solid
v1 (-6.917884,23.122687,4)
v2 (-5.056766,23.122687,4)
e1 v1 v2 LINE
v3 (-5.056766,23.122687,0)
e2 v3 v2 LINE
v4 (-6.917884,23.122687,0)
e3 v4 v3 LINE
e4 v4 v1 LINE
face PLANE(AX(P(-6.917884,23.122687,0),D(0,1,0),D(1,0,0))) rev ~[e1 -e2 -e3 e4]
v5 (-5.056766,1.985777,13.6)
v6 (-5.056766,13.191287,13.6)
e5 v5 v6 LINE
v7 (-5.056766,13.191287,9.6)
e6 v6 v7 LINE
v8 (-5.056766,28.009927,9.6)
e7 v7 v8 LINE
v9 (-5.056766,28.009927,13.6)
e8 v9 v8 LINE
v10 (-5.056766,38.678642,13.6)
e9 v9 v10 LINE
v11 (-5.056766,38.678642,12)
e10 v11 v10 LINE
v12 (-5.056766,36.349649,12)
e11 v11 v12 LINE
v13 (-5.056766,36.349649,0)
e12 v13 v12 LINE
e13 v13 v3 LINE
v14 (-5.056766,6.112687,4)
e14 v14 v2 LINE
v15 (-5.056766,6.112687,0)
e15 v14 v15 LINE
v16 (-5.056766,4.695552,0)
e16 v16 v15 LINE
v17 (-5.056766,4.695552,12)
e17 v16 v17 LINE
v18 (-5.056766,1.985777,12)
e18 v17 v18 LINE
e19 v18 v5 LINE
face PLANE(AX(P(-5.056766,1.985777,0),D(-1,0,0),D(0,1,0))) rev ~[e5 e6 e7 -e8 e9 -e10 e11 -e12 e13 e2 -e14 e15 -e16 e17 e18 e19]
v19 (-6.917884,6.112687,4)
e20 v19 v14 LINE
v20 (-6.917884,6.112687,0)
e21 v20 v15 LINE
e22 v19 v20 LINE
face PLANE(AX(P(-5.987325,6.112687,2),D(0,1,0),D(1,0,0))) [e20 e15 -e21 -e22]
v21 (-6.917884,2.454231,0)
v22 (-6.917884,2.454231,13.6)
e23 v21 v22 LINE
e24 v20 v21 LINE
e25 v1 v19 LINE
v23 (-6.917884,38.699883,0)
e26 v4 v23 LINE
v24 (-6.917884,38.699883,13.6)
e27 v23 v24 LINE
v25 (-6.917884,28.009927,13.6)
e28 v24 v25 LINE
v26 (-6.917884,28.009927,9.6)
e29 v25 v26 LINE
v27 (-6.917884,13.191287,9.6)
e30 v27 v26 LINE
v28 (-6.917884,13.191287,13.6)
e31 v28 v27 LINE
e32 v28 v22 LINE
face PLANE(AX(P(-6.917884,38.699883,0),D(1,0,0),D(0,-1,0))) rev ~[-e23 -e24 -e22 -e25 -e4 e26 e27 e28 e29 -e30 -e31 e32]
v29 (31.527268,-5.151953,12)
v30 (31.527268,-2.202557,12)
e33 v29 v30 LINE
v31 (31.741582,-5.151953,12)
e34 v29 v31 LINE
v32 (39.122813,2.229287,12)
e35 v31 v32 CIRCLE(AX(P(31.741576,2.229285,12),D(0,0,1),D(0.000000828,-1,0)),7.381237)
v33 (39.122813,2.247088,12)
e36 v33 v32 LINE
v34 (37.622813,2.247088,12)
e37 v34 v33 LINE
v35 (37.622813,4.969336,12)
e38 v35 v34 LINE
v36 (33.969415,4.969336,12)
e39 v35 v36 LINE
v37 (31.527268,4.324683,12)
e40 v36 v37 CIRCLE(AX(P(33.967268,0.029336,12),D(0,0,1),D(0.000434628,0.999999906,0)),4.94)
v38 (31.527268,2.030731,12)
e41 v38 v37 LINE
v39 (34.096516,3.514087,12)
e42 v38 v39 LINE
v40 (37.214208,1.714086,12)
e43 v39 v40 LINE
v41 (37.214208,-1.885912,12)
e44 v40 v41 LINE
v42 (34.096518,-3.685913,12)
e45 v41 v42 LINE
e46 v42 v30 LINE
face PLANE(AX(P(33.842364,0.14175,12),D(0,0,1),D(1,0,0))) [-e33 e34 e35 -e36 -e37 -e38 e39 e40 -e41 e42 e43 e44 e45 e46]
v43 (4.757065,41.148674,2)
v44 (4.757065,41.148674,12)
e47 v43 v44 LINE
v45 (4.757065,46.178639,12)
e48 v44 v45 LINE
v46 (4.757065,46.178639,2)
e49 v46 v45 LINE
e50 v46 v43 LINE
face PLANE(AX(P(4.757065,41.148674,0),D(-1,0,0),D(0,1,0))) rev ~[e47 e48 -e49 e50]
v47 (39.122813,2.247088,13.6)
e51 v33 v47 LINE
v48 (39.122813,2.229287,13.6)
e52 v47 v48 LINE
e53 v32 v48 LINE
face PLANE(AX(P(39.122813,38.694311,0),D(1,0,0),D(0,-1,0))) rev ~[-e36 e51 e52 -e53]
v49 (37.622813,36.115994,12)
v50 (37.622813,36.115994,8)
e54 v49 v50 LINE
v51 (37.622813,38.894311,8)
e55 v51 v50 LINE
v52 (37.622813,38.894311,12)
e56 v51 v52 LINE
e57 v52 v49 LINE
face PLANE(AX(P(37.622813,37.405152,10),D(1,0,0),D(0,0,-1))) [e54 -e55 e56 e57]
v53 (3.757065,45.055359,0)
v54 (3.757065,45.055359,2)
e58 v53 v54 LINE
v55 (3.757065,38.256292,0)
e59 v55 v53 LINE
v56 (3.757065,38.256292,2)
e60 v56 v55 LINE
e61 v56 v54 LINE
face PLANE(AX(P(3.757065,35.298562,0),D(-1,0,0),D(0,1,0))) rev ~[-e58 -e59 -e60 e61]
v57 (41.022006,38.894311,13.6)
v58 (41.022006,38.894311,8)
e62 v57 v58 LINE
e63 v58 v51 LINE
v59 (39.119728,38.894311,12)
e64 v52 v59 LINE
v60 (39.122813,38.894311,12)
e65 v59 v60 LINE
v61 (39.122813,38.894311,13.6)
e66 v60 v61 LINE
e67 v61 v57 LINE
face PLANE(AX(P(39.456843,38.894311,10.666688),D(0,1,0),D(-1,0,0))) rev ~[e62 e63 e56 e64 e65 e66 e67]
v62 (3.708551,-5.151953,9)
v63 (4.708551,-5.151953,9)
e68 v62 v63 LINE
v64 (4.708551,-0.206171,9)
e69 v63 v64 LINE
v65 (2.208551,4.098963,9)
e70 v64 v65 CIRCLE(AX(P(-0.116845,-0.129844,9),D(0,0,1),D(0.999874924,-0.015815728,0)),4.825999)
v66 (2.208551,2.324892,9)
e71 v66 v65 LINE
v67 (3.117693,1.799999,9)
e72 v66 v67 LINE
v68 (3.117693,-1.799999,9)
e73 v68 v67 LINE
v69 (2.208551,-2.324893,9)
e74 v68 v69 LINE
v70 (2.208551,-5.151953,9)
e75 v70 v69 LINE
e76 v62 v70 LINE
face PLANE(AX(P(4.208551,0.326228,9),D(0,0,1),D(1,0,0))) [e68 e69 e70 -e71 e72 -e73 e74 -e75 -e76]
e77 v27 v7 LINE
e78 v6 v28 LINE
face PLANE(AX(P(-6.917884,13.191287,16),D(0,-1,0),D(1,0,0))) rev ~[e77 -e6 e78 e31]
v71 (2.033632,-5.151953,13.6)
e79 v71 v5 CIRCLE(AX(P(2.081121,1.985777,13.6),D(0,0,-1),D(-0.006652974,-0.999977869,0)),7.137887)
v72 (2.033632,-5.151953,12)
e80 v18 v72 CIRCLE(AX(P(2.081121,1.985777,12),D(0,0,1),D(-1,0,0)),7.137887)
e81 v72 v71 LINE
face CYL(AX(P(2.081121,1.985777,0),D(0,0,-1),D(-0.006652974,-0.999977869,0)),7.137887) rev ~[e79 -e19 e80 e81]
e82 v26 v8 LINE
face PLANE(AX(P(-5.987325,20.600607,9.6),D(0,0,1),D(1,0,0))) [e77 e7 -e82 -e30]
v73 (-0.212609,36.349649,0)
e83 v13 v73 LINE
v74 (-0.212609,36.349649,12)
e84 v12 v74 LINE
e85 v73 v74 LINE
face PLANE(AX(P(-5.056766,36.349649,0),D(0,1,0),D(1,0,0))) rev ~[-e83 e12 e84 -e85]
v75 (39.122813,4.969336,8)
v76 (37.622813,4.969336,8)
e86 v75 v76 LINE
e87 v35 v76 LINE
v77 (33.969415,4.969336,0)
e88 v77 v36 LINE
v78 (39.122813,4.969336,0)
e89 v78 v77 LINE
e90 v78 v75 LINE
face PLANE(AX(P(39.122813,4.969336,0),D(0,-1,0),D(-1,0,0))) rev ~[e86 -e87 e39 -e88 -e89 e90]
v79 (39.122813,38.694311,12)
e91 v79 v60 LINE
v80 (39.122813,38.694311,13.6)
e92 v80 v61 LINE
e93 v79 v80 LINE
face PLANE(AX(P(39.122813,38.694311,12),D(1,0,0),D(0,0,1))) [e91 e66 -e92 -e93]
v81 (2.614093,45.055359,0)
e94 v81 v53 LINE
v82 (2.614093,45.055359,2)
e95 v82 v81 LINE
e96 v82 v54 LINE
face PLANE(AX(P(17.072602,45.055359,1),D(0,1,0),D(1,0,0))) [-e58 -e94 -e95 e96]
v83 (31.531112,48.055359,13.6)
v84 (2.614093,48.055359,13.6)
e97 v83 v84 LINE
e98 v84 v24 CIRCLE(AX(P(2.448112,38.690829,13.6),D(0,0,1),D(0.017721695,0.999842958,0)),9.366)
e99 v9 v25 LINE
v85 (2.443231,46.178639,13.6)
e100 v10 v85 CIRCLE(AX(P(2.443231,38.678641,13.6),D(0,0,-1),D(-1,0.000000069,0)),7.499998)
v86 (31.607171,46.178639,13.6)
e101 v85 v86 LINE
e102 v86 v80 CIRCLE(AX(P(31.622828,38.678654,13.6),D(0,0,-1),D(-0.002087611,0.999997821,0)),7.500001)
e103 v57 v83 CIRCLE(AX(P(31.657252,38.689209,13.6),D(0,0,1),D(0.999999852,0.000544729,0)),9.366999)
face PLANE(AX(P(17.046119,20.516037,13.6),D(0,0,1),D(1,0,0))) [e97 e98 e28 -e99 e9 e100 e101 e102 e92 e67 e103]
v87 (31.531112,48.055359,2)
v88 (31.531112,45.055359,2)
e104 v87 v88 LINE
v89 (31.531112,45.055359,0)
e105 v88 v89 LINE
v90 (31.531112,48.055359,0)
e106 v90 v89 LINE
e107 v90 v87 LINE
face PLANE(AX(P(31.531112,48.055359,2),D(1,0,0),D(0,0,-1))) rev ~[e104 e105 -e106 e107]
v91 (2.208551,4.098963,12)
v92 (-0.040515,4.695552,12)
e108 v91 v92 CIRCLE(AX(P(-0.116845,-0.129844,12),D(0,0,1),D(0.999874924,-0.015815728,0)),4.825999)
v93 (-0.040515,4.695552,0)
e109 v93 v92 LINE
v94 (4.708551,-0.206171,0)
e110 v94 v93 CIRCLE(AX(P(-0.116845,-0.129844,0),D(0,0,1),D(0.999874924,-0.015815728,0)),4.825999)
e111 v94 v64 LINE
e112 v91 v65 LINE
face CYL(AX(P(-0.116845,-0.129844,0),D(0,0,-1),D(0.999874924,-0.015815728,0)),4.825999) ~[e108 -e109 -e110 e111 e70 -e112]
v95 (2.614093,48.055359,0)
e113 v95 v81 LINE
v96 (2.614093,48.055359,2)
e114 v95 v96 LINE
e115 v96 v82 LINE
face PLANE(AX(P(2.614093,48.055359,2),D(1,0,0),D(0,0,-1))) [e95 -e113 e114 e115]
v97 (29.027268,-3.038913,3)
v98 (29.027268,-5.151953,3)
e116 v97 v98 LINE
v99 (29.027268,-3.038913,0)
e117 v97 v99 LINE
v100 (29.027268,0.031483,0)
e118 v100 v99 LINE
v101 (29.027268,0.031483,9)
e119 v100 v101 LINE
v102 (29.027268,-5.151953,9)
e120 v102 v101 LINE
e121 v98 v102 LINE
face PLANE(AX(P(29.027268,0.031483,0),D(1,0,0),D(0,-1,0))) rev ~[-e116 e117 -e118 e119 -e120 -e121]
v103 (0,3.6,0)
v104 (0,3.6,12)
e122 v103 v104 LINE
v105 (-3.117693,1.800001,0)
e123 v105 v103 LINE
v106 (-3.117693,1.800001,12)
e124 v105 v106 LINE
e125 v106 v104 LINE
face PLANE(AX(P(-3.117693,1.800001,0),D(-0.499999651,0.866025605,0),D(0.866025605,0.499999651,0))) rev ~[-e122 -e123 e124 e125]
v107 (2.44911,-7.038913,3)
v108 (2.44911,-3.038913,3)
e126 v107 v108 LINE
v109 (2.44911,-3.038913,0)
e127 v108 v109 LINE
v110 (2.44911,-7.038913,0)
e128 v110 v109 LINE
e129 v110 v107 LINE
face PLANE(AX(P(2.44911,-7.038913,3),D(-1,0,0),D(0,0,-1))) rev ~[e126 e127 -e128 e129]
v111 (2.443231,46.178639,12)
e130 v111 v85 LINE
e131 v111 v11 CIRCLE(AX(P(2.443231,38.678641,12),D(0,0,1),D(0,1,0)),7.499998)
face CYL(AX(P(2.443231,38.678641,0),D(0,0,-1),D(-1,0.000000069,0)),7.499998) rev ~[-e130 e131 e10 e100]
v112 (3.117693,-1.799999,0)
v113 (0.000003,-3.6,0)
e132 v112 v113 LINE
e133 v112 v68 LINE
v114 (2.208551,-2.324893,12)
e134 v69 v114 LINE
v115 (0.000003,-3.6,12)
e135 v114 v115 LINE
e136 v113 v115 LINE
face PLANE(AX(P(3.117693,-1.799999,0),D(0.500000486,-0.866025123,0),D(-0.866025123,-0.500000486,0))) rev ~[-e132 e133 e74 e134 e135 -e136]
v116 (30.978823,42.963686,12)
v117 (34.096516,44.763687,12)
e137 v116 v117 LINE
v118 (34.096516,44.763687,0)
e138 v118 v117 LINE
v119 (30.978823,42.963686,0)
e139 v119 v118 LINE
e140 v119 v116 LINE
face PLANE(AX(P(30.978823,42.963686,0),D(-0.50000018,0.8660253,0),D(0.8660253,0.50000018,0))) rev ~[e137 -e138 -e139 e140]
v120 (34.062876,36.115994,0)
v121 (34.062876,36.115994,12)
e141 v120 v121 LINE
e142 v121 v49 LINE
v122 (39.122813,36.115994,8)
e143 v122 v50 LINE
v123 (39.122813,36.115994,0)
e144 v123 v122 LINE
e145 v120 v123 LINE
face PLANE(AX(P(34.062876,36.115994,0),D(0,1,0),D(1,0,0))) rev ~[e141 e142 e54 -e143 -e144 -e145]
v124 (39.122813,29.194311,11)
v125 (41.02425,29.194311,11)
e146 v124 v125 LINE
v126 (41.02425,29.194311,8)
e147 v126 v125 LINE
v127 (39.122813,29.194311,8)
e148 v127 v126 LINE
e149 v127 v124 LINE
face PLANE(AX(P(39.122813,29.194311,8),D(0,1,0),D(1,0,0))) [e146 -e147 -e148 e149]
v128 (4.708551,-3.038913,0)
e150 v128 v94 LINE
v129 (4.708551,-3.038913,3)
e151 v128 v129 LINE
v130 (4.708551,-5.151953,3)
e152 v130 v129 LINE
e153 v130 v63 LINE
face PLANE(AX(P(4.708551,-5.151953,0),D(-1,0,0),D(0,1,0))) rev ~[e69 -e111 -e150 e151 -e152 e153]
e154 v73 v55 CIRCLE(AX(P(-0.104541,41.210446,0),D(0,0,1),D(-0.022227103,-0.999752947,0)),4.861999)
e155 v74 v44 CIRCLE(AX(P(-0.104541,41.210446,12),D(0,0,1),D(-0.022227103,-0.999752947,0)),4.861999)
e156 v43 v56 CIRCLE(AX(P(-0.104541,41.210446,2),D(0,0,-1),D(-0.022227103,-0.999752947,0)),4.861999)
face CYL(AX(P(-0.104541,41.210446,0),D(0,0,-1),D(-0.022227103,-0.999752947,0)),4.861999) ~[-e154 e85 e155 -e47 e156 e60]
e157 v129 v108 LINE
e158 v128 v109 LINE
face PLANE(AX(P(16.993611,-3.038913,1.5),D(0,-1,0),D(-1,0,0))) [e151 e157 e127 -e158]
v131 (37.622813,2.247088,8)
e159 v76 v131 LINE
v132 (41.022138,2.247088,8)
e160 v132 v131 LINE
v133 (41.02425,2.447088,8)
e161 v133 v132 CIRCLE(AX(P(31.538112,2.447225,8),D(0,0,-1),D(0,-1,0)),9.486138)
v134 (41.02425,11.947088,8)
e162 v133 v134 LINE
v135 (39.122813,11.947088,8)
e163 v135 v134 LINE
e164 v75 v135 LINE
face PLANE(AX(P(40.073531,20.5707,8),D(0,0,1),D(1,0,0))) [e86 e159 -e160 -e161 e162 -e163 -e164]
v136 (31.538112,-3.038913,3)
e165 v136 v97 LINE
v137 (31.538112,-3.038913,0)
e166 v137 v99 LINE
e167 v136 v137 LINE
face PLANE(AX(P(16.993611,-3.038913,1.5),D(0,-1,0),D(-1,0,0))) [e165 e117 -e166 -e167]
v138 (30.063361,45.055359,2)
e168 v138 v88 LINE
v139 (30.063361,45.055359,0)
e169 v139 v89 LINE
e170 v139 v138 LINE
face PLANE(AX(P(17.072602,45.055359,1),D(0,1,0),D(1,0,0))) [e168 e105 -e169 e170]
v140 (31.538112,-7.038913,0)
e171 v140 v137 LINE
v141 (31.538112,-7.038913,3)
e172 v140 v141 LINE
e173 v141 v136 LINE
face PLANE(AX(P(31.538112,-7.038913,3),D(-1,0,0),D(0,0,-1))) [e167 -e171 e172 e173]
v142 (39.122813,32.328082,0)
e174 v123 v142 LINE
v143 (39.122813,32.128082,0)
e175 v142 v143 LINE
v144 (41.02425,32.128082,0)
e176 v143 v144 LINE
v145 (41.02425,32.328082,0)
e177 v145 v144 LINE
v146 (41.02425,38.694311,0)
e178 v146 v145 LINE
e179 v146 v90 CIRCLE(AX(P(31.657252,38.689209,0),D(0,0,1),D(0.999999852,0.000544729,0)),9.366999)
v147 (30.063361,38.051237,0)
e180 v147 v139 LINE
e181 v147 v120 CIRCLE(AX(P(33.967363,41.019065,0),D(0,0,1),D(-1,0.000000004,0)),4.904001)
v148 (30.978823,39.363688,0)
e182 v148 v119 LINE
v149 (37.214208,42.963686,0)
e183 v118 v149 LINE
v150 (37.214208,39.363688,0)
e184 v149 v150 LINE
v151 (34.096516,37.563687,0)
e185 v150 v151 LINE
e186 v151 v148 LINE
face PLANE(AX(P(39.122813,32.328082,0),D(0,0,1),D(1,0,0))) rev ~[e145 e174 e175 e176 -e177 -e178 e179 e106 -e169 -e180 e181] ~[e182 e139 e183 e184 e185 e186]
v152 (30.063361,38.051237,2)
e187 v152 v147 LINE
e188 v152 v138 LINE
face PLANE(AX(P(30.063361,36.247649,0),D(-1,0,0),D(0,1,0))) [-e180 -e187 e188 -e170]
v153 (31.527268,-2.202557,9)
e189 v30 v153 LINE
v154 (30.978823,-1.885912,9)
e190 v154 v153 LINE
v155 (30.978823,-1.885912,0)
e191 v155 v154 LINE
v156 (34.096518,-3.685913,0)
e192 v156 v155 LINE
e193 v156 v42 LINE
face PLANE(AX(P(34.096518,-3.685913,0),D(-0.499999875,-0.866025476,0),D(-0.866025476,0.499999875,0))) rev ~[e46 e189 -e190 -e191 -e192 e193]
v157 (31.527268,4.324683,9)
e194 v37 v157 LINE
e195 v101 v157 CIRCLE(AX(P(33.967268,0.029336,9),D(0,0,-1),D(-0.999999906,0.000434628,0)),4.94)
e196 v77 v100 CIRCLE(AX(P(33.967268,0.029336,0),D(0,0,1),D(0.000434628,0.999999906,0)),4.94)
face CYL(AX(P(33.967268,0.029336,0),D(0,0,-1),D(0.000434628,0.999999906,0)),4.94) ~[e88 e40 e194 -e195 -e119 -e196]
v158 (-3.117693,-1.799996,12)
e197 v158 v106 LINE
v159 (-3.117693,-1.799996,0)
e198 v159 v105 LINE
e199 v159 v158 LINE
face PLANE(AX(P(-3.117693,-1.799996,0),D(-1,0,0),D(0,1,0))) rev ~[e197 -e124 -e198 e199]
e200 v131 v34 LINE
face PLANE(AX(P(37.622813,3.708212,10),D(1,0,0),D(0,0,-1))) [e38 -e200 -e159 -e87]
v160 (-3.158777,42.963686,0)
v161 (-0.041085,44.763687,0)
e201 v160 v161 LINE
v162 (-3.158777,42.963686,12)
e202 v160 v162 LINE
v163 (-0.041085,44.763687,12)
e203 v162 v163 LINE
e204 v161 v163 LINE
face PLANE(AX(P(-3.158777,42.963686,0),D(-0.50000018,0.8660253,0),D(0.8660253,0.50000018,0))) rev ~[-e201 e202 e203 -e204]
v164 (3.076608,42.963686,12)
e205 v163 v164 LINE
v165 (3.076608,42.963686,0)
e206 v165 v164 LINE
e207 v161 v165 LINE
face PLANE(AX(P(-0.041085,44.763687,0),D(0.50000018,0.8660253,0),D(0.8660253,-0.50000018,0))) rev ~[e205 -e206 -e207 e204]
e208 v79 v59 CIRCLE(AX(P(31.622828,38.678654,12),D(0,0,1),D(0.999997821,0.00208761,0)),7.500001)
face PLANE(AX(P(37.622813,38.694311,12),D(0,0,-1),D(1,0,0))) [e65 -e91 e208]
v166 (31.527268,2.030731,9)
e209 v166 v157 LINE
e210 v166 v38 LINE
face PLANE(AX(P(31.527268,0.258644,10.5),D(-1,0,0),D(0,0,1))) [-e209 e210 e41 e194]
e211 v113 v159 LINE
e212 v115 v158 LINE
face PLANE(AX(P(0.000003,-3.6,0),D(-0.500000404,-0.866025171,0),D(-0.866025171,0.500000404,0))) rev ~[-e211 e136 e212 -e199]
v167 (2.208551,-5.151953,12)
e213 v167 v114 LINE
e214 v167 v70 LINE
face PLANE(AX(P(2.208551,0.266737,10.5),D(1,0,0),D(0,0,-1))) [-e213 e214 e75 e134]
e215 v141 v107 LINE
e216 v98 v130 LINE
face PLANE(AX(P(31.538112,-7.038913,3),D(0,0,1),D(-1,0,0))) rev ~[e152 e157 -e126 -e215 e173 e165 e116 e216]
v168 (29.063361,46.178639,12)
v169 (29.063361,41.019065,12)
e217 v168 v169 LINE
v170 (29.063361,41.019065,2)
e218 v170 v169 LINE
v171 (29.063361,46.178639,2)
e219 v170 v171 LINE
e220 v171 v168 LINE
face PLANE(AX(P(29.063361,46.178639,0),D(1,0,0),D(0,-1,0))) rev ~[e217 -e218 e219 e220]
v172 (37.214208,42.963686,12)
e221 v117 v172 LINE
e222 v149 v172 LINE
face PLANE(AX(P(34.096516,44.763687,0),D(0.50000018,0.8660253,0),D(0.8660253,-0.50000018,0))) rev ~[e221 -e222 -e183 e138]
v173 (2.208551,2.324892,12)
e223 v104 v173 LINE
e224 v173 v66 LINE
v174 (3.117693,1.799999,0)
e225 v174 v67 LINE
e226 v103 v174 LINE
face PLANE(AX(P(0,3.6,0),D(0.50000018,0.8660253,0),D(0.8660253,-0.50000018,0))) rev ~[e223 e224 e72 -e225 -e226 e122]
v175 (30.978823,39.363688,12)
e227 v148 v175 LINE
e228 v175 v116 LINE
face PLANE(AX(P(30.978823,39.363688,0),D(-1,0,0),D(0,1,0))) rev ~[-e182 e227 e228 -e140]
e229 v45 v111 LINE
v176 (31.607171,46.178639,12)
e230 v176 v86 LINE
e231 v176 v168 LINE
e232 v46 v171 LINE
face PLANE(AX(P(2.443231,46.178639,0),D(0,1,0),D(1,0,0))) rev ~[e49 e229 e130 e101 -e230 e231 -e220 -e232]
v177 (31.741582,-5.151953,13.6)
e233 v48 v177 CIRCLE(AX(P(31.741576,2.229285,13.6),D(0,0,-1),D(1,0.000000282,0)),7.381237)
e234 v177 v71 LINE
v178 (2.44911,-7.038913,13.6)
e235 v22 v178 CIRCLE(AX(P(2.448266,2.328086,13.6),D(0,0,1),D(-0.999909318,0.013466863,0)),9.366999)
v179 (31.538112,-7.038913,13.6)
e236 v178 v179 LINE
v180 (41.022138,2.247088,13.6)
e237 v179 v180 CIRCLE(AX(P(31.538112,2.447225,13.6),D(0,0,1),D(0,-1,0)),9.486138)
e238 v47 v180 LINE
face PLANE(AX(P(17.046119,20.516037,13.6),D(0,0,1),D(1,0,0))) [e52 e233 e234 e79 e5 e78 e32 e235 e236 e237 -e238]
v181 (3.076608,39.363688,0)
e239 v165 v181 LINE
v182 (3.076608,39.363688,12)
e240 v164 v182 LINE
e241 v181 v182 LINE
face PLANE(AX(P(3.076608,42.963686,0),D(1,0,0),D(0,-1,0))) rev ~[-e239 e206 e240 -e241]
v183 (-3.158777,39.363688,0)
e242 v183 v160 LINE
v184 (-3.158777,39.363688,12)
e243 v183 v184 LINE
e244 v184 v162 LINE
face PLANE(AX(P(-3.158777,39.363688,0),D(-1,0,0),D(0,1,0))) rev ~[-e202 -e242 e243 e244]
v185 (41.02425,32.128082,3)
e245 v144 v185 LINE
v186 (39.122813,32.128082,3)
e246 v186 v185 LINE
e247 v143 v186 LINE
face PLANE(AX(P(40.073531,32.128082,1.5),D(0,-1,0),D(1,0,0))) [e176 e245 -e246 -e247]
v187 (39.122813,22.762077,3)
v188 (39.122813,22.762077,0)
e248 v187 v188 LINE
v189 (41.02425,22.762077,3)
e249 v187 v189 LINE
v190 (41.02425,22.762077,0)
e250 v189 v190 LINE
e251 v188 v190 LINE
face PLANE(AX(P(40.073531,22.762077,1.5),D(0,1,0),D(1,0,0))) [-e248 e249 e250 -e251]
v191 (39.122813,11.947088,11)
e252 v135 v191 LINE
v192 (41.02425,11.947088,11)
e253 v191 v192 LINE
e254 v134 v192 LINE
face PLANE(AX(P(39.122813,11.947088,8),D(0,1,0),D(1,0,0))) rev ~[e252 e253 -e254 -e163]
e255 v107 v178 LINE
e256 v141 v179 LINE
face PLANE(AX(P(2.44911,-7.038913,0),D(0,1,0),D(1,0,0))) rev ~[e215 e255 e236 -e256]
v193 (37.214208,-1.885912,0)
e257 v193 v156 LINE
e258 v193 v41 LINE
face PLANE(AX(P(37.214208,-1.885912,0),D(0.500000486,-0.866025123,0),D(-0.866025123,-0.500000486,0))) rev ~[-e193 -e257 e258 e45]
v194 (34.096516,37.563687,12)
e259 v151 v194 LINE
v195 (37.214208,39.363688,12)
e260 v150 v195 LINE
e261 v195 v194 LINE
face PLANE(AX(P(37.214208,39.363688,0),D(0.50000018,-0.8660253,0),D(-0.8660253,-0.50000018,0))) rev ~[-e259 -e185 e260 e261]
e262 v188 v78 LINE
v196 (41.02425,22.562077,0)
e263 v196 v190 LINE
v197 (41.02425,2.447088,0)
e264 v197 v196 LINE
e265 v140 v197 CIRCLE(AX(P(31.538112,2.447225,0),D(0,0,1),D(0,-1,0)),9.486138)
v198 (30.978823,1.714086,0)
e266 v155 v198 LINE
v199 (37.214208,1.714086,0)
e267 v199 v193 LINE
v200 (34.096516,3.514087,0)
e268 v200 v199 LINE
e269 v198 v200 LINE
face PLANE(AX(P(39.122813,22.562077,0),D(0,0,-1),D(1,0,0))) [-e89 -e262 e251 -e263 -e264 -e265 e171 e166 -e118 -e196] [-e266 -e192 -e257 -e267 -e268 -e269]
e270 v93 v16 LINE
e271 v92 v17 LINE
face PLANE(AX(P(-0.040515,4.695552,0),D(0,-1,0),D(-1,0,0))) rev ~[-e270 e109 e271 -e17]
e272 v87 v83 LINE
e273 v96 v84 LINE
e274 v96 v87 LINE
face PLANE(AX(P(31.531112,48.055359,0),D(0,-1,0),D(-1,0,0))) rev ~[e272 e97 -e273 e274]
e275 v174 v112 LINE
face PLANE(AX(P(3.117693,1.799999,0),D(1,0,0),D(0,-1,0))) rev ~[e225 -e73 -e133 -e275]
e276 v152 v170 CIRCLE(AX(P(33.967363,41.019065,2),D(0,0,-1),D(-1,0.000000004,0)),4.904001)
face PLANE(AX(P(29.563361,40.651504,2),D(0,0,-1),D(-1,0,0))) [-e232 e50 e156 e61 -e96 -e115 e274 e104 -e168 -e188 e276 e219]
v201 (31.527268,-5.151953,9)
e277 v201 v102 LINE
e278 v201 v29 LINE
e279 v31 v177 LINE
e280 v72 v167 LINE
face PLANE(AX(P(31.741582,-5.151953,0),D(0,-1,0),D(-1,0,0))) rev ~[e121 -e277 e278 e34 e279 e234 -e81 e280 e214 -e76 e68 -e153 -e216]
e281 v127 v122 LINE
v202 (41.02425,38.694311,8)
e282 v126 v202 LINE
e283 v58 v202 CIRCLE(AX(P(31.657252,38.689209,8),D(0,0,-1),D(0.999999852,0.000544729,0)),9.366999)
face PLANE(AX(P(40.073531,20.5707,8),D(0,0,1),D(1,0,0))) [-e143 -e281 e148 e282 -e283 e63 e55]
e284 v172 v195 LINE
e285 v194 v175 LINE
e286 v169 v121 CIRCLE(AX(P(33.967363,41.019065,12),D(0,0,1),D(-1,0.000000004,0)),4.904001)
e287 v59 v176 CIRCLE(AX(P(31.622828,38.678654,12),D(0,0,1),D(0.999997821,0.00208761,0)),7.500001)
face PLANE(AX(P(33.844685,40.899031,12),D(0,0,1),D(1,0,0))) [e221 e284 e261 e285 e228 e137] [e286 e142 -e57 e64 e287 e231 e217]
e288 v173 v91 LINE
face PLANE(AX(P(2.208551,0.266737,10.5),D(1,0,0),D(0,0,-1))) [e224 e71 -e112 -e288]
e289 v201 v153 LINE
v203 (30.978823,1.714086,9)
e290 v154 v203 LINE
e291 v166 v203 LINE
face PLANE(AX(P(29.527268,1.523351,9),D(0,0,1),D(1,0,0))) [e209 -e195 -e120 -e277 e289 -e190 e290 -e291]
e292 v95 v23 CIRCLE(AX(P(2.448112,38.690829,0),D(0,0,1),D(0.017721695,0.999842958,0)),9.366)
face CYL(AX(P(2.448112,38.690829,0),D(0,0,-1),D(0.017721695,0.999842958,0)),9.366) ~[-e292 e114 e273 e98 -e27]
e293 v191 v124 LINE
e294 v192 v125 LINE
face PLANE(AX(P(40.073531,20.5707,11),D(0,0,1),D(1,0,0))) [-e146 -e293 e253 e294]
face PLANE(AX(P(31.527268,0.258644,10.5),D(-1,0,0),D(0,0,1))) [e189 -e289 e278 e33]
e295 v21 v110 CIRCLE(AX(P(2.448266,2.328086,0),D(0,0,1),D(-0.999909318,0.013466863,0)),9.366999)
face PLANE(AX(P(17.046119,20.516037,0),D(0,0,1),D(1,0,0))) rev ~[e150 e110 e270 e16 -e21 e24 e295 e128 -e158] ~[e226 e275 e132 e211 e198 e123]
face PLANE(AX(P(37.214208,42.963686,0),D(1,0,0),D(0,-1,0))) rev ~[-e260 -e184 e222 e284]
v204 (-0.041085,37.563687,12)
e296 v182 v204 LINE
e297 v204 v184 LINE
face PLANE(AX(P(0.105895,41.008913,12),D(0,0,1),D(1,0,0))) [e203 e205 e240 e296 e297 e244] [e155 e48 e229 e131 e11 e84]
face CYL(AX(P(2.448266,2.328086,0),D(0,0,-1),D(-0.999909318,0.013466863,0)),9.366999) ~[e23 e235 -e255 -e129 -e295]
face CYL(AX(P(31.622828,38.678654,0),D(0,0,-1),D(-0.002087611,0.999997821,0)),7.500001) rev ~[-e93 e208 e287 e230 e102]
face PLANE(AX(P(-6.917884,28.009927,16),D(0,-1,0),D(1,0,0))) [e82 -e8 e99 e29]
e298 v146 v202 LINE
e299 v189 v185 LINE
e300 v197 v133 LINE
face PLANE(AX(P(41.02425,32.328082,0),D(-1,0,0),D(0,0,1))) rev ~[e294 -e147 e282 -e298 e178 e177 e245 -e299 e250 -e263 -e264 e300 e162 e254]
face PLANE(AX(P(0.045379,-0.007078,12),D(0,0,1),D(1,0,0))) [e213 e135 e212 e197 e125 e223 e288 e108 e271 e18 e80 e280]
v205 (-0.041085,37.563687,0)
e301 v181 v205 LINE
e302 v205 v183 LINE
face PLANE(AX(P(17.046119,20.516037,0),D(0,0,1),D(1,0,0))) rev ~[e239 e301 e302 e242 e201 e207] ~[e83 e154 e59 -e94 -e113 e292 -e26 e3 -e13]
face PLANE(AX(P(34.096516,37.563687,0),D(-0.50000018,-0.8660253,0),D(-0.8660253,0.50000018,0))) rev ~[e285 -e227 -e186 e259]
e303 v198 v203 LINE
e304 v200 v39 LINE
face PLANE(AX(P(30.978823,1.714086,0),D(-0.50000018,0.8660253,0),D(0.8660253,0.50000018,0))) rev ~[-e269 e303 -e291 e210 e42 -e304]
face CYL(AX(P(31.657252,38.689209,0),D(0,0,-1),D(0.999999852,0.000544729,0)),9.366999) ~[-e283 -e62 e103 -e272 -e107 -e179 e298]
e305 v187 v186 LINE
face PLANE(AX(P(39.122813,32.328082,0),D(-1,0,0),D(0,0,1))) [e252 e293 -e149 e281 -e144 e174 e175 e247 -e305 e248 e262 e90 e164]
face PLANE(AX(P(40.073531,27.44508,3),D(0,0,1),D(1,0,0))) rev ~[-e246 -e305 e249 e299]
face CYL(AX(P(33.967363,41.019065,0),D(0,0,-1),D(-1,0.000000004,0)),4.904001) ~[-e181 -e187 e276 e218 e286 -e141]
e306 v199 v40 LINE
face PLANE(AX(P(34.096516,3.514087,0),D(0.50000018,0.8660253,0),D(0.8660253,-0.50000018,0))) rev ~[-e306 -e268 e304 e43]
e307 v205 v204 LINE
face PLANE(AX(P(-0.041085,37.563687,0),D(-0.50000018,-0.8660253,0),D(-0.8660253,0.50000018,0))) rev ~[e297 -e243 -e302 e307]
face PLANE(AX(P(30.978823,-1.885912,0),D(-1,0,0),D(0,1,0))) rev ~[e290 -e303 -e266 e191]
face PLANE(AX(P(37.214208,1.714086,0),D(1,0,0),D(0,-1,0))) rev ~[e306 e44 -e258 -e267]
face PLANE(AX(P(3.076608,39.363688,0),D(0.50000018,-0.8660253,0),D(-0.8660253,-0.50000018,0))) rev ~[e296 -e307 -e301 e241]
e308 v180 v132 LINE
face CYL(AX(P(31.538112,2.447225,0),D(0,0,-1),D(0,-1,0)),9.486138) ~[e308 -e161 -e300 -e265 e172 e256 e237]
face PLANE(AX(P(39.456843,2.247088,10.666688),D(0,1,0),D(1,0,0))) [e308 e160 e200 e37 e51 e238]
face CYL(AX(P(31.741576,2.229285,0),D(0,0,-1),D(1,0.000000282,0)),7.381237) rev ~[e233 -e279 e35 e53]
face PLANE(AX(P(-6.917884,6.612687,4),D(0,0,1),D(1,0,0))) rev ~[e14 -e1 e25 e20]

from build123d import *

# Parameters (mm, degrees)
EXTRUDE_1_DEPTH      = 12
EXTRUDE_2_DEPTH      = 12
EXTRUDE_2_2_DEPTH    = 12
EXTRUDE_2_3_DEPTH    = 12
EXTRUDE_3_DEPTH      = 13.6
MODEL_6_W            = 1.861117915
MODEL_6_H            = 16.51
CUT_EXTRUDE_1_DEPTH  = 4
MODEL_7_W            = 1.861117915
MODEL_7_H            = 14.818640087
EXTRUDE_5_DEPTH      = 16
MODEL_8_W            = 1.861117915
MODEL_8_H            = 9.9314
CUT_EXTRUDE_2_DEPTH  = 4
SKETCH_3_W           = 1.861117915
SKETCH_3_H           = 14.818640087
CUT_EXTRUDE_3_DEPTH  = 6.4
MODEL_11_W           = 1.901436907
MODEL_11_H           = 36.247223099
EXTRUDE_6_DEPTH      = 16
MODEL_12_W           = 1.901436907
MODEL_12_H           = 9.766004581
CUT_EXTRUDE_5_DEPTH  = 3
SKETCH_4_W           = 1.901436907
SKETCH_4_H           = 36.247223099
CUT_EXTRUDE_6_DEPTH  = 8
SKETCH_5_W           = 4
SKETCH_5_H           = 2.578317469
CUT_EXTRUDE_8_DEPTH  = 1.5
SKETCH_6_W           = 4
SKETCH_6_H           = 2.52224752
CUT_EXTRUDE_9_DEPTH  = 1.5
SKETCH_7_W           = 1.901436907
SKETCH_7_H           = 17.247223099
EXTRUDE_7_DEPTH      = 3
SKETCH_11_W          = 29.089002021
SKETCH_11_H          = 3
CUT_EXTRUDE_15_DEPTH = 4
SKETCH_12_W          = 28.91701862
SKETCH_12_H          = 2
CUT_EXTRUDE_16_DEPTH = 3
SKETCH_13_W          = 1
SKETCH_13_H          = 10.956361678
CUT_EXTRUDE_17_DEPTH = 3
SKETCH_14_W          = 1
SKETCH_14_H          = 13.350607955
CUT_EXTRUDE_19_DEPTH = 3
SKETCH_16_W          = 1
SKETCH_16_H          = 8.807709457
CUT_EXTRUDE_23_DEPTH = 2
SKETCH_17_W          = 1
SKETCH_17_H          = 9.756796511
CUT_EXTRUDE_24_DEPTH = 2
SKETCH_18_W          = 3
SKETCH_18_H          = 0.152653388
CUT_EXTRUDE_25_DEPTH = 1
SKETCH_20_W          = 3
SKETCH_20_H          = 10.821193865
CUT_EXTRUDE_27_DEPTH = 1
SKETCH_21_W          = 3
SKETCH_21_H          = 10.837379137
CUT_EXTRUDE_28_DEPTH = 1
SKETCH_21_2_W        = 3
SKETCH_21_2_H        = 10.837379137
CUT_EXTRUDE_29_DEPTH = 1.5
SKETCH_20_2_W        = 3
SKETCH_20_2_H        = 10.821193865
CUT_EXTRUDE_30_DEPTH = 1.5
SKETCH_22_W          = 1.861117915
SKETCH_22_H          = 4
CUT_EXTRUDE_31_DEPTH = 0.5
CUT_EXTRUDE_32_DEPTH = 0.2
CUT_EXTRUDE_33_DEPTH = 0.2
SKETCH_25_W          = 1.901436907
SKETCH_25_H          = 3
EXTRUDE_8_DEPTH      = 0.2
SKETCH_26_W          = 1.901436907
SKETCH_26_H          = 3
EXTRUDE_9_DEPTH      = 0.2


with BuildPart() as part:
    # Model → 凸台-拉伸1 (new body)
    with BuildSketch(Plane.XY):
        with BuildLine():
            Line((-5.056766423, 38.678641935), (-5.056766423, 36.349648899))
            Line((-5.056766423, 36.349648899), (-0.212608944, 36.349648899))
            ThreePointArc((-0.212608944, 36.349648899), (3.272838734, 37.712970368), (4.757065456, 41.148674369))
            Line((4.757065456, 41.148674369), (4.757065456, 46.178639116))
            Line((4.757065456, 46.178639116), (3.757607617, 46.178639116))
            Line((3.757607617, 46.178639116), (2.443231277, 46.178639116))
            ThreePointArc((2.443231277, 46.178639116), (-2.860067772, 43.981940832), (-5.056766423, 38.678641935))
        make_face()
        Polygon((-3.15877702, 42.96368598), (-0.0410845, 44.76368746), (3.07660802, 42.96368598), (3.07660802, 39.3636881), (-0.0410845, 37.56368662), (-3.15877702, 39.3636881), align=None, mode=Mode.SUBTRACT)
    extrude(amount=EXTRUDE_1_DEPTH)



with BuildPart() as body_2:
    # Model<3> → 凸台-拉伸2 (new body)
    with BuildSketch(Plane.XY):
        with BuildLine():
            Line((29.027268179, 0.031482865), (29.027268179, -5.15195259))
            Line((29.027268179, -5.15195259), (31.741581646, -5.15195259))
            ThreePointArc((31.741581646, -5.15195259), (36.960901493, -2.990035293), (39.122812995, 2.229286954))
            Line((39.122812995, 2.229286954), (39.122812995, 4.969335617))
            Line((39.122812995, 4.969335617), (33.969415054, 4.969335617))
            ThreePointArc((33.969415054, 4.969335617), (30.475678827, 3.523961372), (29.027268179, 0.031482865))
        make_face()
        Polygon((34.09651804, -3.68591338), (30.97882298, -1.8859119), (30.97882298, 1.71408598), (34.0965155, 3.51408746), (37.21420802, 1.71408598), (37.21420802, -1.8859119), align=None, mode=Mode.SUBTRACT)
    extrude(amount=EXTRUDE_2_DEPTH)


with BuildPart() as body_3:
    # Model<3> → Extrude 2 2 (new body)
    with BuildSketch(Plane.XY):
        with BuildLine():
            Line((2.033632482, -5.15195259), (4.708551083, -5.15195259))
            Line((4.708551083, -5.15195259), (4.708551083, -0.206170722))
            ThreePointArc((4.708551083, -0.206170722), (3.349197601, 3.228253817), (-0.040514857, 4.695551758))
            Line((-0.040514857, 4.695551758), (-5.056766423, 4.695551758))
            Line((-5.056766423, 4.695551758), (-5.056766423, 1.985776523))
            ThreePointArc((-5.056766423, 1.985776523), (-2.982889473, -3.044654212), (2.033632482, -5.15195259))
        make_face()
        Polygon((2.54e-06, -3.60000042), (-3.11769252, -1.7999964), (-3.11769252, 1.80000148), (0, 3.60000042), (3.11769252, 1.79999894), (3.11769252, -1.79999894), align=None, mode=Mode.SUBTRACT)
    extrude(amount=EXTRUDE_2_2_DEPTH)


with BuildPart() as body_4:
    # Model<3> → Extrude 2 3 (new body)
    with BuildSketch(Plane.XY):
        with BuildLine():
            Line((34.06287636, 36.115993727), (39.122812995, 36.115993727))
            Line((39.122812995, 36.115993727), (39.122812995, 38.694311196))
            ThreePointArc((39.122812995, 38.694311196), (36.915047022, 43.993015596), (31.607170917, 46.178639116))
            Line((31.607170917, 46.178639116), (29.06336134, 46.178639116))
            Line((29.06336134, 46.178639116), (29.06336134, 41.019064947))
            ThreePointArc((29.06336134, 41.019064947), (30.533645299, 37.517805959), (34.06287636, 36.115993727))
        make_face()
        Polygon((34.0965155, 37.56368662), (30.97882298, 39.3636881), (30.97882298, 42.96368598), (34.0965155, 44.76368746), (37.21420802, 42.96368598), (37.21420802, 39.3636881), align=None, mode=Mode.SUBTRACT)
    extrude(amount=EXTRUDE_2_3_DEPTH)


with BuildPart() as part_1:
    add(part.part)

    add(body_2.part)  # 凸台-拉伸3 merges body 2

    add(body_3.part)  # 凸台-拉伸3 merges body 3

    add(body_4.part)  # 凸台-拉伸3 merges body 4
    # Model<4> → 凸台-拉伸3 (add)
    with BuildSketch(Plane.XY):
        with BuildLine():
            ThreePointArc((31.538111903, -7.038912743), (38.245775916, -4.260535743), (41.024249902, 2.447088097))
            Line((41.024249902, 2.447088097), (41.024249902, 38.694311196))
            ThreePointArc((41.024249902, 38.694311196), (38.234155861, 45.358917184), (31.531111662, 48.055358577))
            Line((31.531111662, 48.055358577), (30.12859608, 48.055358577))
            Line((30.12859608, 48.055358577), (2.614093042, 48.055358577))
            ThreePointArc((2.614093042, 48.055358577), (-4.112474971, 45.375188878), (-6.917884338, 38.699883257))
            Line((-6.917884338, 38.699883257), (-6.917884338, 2.454230577))
            ThreePointArc((-6.917884338, 2.454230577), (-4.219356196, -4.250932902), (2.449109882, -7.038912743))
            Line((2.449109882, -7.038912743), (31.538111903, -7.038912743))
        make_face()
        with BuildLine():
            ThreePointArc((2.033632482, -5.15195259), (-2.982889473, -3.044654212), (-5.056766423, 1.985776523))
            Line((-5.056766423, 1.985776523), (-5.056766423, 38.678641935))
            ThreePointArc((-5.056766423, 38.678641935), (-2.860067772, 43.981940832), (2.443231277, 46.178639116))
            Line((2.443231277, 46.178639116), (31.607170917, 46.178639116))
            ThreePointArc((31.607170917, 46.178639116), (36.915047022, 43.993015596), (39.122812995, 38.694311196))
            Line((39.122812995, 38.694311196), (39.122812995, 2.229286954))
            ThreePointArc((39.122812995, 2.229286954), (36.960901493, -2.990035293), (31.741581646, -5.15195259))
            Line((31.741581646, -5.15195259), (2.033632482, -5.15195259))
        make_face(mode=Mode.SUBTRACT)
    extrude(amount=EXTRUDE_3_DEPTH)

    # Model<6> → 切除-拉伸1 (cut)
    with BuildSketch(Plane.XY):
        with Locations((-5.98732538, 14.8676868)):
            Rectangle(MODEL_6_W, MODEL_6_H)
    extrude(amount=CUT_EXTRUDE_1_DEPTH, mode=Mode.SUBTRACT)

    # Model<7> → 凸台-拉伸5 (add)
    with BuildSketch(Plane.XY):
        with Locations((-5.98732538, 20.600606844)):
            Rectangle(MODEL_7_W, MODEL_7_H)
    extrude(amount=EXTRUDE_5_DEPTH)

    # Model<8> → 切除-拉伸2 (cut)
    with BuildSketch(Plane.XY):
        with Locations((-5.98732538, 18.1569868)):
            Rectangle(MODEL_8_W, MODEL_8_H)
    extrude(amount=CUT_EXTRUDE_2_DEPTH, mode=Mode.SUBTRACT)

    # 草图3 → 切除-拉伸3 (cut)
    with BuildSketch(Plane.XY.offset(16)):
        with Locations((-5.98732538, 20.600606844)):
            Rectangle(SKETCH_3_W, SKETCH_3_H)
    extrude(amount=-CUT_EXTRUDE_3_DEPTH, mode=Mode.SUBTRACT)

    # Model<11> → 凸台-拉伸6 (add)
    with BuildSketch(Plane.XY):
        with Locations((40.073531449, 20.570699646)):
            Rectangle(MODEL_11_W, MODEL_11_H)
    extrude(amount=EXTRUDE_6_DEPTH)

    # Model<12> → 切除-拉伸5 (cut)
    with BuildSketch(Plane.XY):
        with Locations((40.073531449, 27.445079549)):
            Rectangle(MODEL_12_W, MODEL_12_H)
    extrude(amount=CUT_EXTRUDE_5_DEPTH, mode=Mode.SUBTRACT)

    # 草图4 → 切除-拉伸6 (cut)
    with BuildSketch(Plane.XY.offset(16)):
        with Locations((40.073531449, 20.570699646)):
            Rectangle(SKETCH_4_W, SKETCH_4_H)
    extrude(amount=-CUT_EXTRUDE_6_DEPTH, mode=Mode.SUBTRACT)

    # 草图5 → 切除-拉伸8 (cut)
    with BuildSketch(Plane(origin=(39.122812995, 0, 0), x_dir=(0, 0, -1), z_dir=(1, 0, 0))):
        with Locations((-10, 37.405152462)):
            Rectangle(SKETCH_5_W, SKETCH_5_H)
    extrude(amount=-CUT_EXTRUDE_8_DEPTH, mode=Mode.SUBTRACT)

    # 草图6 → 切除-拉伸9 (cut)
    with BuildSketch(Plane(origin=(39.122812995, 0, 0), x_dir=(0, 0, -1), z_dir=(1, 0, 0))):
        with Locations((-10, 3.708211857)):
            Rectangle(SKETCH_6_W, SKETCH_6_H)
    extrude(amount=-CUT_EXTRUDE_9_DEPTH, mode=Mode.SUBTRACT)

    # 草图7 → 凸台-拉伸7 (add)
    with BuildSketch(Plane.XY.offset(8)):
        with Locations((40.073531449, 20.570699646)):
            Rectangle(SKETCH_7_W, SKETCH_7_H)
    extrude(amount=EXTRUDE_7_DEPTH)

    # 草图11 → 切除-拉伸15 (cut)
    with BuildSketch(Plane(origin=(0, -7.038912743, 0), x_dir=(-1, 0, 0), z_dir=(0, -1, 0))):
        with Locations((-16.993610893, -1.5)):
            Rectangle(SKETCH_11_W, SKETCH_11_H)
    extrude(amount=-CUT_EXTRUDE_15_DEPTH, mode=Mode.SUBTRACT)

    # 草图12 → 切除-拉伸16 (cut)
    with BuildSketch(Plane(origin=(0, 48.055358577, 0), x_dir=(1, 0, 0), z_dir=(0, 1, 0))):
        with Locations((17.072602352, -1)):
            Rectangle(SKETCH_12_W, SKETCH_12_H)
    extrude(amount=-CUT_EXTRUDE_16_DEPTH, mode=Mode.SUBTRACT)

    # 草图13 → 切除-拉伸17 (cut)
    with BuildSketch(Plane.XY.offset(12)):
        with Locations((4.208551083, 0.326228249)):
            Rectangle(SKETCH_13_W, SKETCH_13_H)
    extrude(amount=-CUT_EXTRUDE_17_DEPTH, mode=Mode.SUBTRACT)

    # 草图14 → 切除-拉伸19 (cut)
    with BuildSketch(Plane.XY.offset(12)):
        with Locations((29.527268179, 1.523351387)):
            Rectangle(SKETCH_14_W, SKETCH_14_H)
    extrude(amount=-CUT_EXTRUDE_19_DEPTH, mode=Mode.SUBTRACT)

    # 草图16 → 切除-拉伸23 (cut)
    with BuildSketch(Plane(origin=(0, 0, 0), x_dir=(-1, 0, 0), z_dir=(0, 0, -1))):
        with Locations((-29.56336134, 40.651503848)):
            Rectangle(SKETCH_16_W, SKETCH_16_H)
    extrude(amount=-CUT_EXTRUDE_23_DEPTH, mode=Mode.SUBTRACT)

    # 草图17 → 切除-拉伸24 (cut)
    with BuildSketch(Plane(origin=(0, 0, 0), x_dir=(-1, 0, 0), z_dir=(0, 0, -1))):
        with Locations((-4.257065456, 40.176960322)):
            Rectangle(SKETCH_17_W, SKETCH_17_H)
    extrude(amount=-CUT_EXTRUDE_24_DEPTH, mode=Mode.SUBTRACT)

    # 草图18 → 切除-拉伸25 (cut)
    with BuildSketch(Plane.ZY.offset(-4.708551083)):
        with Locations((10.5, -0.129844028)):
            Rectangle(SKETCH_18_W, SKETCH_18_H)
    extrude(amount=-CUT_EXTRUDE_25_DEPTH, mode=Mode.SUBTRACT)

    # 草图20 → 切除-拉伸27 (cut)
    with BuildSketch(Plane.ZY.offset(-30.027268179)):
        with Locations((10.5, 0.258644342)):
            Rectangle(SKETCH_20_W, SKETCH_20_H)
    extrude(amount=-CUT_EXTRUDE_27_DEPTH, mode=Mode.SUBTRACT)

    # 草图21 → 切除-拉伸28 (cut)
    with BuildSketch(Plane(origin=(3.708551083, 0, 0), x_dir=(0, 0, -1), z_dir=(1, 0, 0))):
        with Locations((-10.5, 0.266736978)):
            Rectangle(SKETCH_21_W, SKETCH_21_H)
    extrude(amount=-CUT_EXTRUDE_28_DEPTH, mode=Mode.SUBTRACT)

    # 草图21<2> → 切除-拉伸29 (cut)
    with BuildSketch(Plane(origin=(3.708551083, 0, 0), x_dir=(0, 0, -1), z_dir=(1, 0, 0))):
        with Locations((-10.5, 0.266736978)):
            Rectangle(SKETCH_21_2_W, SKETCH_21_2_H)
    extrude(amount=-CUT_EXTRUDE_29_DEPTH, mode=Mode.SUBTRACT)

    # 草图20<2> → 切除-拉伸30 (cut)
    with BuildSketch(Plane.ZY.offset(-30.027268179)):
        with Locations((10.5, 0.258644342)):
            Rectangle(SKETCH_20_2_W, SKETCH_20_2_H)
    extrude(amount=-CUT_EXTRUDE_30_DEPTH, mode=Mode.SUBTRACT)

    # 草图22 → 切除-拉伸31 (cut)
    with BuildSketch(Plane(origin=(0, 6.6126868, 0), x_dir=(1, 0, 0), z_dir=(0, 1, 0))):
        with Locations((-5.98732538, -2)):
            Rectangle(SKETCH_22_W, SKETCH_22_H)
    extrude(amount=-CUT_EXTRUDE_31_DEPTH, mode=Mode.SUBTRACT)

    # 草图23 → 切除-拉伸32 (cut)
    with BuildSketch(Plane(origin=(0, 2.447088097, 0), x_dir=(1, 0, 0), z_dir=(0, 1, 0))):
        Polygon((41.024249902, -13.6), (41.024249902, -8), (37.622812995, -8), (37.622812995, -12), (39.122812995, -12), (39.122812995, -13.6), align=None)
    extrude(amount=-CUT_EXTRUDE_32_DEPTH, mode=Mode.SUBTRACT)

    # 草图24 → 切除-拉伸33 (cut)
    with BuildSketch(Plane.XZ.offset(-38.694311196)):
        Polygon((39.122812995, 13.6), (41.024249902, 13.6), (41.024249902, 8), (37.622812995, 8), (37.622812995, 12), (39.122812995, 12), align=None)
    extrude(amount=-CUT_EXTRUDE_33_DEPTH, mode=Mode.SUBTRACT)

    # 草图25 → 凸台-拉伸8 (add)
    with BuildSketch(Plane(origin=(0, 22.562077258, 0), x_dir=(1, 0, 0), z_dir=(0, 1, 0))):
        with Locations((40.073531449, -1.5)):
            Rectangle(SKETCH_25_W, SKETCH_25_H)
    extrude(amount=EXTRUDE_8_DEPTH)

    # 草图26 → 凸台-拉伸9 (add)
    with BuildSketch(Plane.XZ.offset(-32.328081839)):
        with Locations((40.073531449, 1.5)):
            Rectangle(SKETCH_26_W, SKETCH_26_H)
    extrude(amount=EXTRUDE_9_DEPTH)


solid = part_1.part
